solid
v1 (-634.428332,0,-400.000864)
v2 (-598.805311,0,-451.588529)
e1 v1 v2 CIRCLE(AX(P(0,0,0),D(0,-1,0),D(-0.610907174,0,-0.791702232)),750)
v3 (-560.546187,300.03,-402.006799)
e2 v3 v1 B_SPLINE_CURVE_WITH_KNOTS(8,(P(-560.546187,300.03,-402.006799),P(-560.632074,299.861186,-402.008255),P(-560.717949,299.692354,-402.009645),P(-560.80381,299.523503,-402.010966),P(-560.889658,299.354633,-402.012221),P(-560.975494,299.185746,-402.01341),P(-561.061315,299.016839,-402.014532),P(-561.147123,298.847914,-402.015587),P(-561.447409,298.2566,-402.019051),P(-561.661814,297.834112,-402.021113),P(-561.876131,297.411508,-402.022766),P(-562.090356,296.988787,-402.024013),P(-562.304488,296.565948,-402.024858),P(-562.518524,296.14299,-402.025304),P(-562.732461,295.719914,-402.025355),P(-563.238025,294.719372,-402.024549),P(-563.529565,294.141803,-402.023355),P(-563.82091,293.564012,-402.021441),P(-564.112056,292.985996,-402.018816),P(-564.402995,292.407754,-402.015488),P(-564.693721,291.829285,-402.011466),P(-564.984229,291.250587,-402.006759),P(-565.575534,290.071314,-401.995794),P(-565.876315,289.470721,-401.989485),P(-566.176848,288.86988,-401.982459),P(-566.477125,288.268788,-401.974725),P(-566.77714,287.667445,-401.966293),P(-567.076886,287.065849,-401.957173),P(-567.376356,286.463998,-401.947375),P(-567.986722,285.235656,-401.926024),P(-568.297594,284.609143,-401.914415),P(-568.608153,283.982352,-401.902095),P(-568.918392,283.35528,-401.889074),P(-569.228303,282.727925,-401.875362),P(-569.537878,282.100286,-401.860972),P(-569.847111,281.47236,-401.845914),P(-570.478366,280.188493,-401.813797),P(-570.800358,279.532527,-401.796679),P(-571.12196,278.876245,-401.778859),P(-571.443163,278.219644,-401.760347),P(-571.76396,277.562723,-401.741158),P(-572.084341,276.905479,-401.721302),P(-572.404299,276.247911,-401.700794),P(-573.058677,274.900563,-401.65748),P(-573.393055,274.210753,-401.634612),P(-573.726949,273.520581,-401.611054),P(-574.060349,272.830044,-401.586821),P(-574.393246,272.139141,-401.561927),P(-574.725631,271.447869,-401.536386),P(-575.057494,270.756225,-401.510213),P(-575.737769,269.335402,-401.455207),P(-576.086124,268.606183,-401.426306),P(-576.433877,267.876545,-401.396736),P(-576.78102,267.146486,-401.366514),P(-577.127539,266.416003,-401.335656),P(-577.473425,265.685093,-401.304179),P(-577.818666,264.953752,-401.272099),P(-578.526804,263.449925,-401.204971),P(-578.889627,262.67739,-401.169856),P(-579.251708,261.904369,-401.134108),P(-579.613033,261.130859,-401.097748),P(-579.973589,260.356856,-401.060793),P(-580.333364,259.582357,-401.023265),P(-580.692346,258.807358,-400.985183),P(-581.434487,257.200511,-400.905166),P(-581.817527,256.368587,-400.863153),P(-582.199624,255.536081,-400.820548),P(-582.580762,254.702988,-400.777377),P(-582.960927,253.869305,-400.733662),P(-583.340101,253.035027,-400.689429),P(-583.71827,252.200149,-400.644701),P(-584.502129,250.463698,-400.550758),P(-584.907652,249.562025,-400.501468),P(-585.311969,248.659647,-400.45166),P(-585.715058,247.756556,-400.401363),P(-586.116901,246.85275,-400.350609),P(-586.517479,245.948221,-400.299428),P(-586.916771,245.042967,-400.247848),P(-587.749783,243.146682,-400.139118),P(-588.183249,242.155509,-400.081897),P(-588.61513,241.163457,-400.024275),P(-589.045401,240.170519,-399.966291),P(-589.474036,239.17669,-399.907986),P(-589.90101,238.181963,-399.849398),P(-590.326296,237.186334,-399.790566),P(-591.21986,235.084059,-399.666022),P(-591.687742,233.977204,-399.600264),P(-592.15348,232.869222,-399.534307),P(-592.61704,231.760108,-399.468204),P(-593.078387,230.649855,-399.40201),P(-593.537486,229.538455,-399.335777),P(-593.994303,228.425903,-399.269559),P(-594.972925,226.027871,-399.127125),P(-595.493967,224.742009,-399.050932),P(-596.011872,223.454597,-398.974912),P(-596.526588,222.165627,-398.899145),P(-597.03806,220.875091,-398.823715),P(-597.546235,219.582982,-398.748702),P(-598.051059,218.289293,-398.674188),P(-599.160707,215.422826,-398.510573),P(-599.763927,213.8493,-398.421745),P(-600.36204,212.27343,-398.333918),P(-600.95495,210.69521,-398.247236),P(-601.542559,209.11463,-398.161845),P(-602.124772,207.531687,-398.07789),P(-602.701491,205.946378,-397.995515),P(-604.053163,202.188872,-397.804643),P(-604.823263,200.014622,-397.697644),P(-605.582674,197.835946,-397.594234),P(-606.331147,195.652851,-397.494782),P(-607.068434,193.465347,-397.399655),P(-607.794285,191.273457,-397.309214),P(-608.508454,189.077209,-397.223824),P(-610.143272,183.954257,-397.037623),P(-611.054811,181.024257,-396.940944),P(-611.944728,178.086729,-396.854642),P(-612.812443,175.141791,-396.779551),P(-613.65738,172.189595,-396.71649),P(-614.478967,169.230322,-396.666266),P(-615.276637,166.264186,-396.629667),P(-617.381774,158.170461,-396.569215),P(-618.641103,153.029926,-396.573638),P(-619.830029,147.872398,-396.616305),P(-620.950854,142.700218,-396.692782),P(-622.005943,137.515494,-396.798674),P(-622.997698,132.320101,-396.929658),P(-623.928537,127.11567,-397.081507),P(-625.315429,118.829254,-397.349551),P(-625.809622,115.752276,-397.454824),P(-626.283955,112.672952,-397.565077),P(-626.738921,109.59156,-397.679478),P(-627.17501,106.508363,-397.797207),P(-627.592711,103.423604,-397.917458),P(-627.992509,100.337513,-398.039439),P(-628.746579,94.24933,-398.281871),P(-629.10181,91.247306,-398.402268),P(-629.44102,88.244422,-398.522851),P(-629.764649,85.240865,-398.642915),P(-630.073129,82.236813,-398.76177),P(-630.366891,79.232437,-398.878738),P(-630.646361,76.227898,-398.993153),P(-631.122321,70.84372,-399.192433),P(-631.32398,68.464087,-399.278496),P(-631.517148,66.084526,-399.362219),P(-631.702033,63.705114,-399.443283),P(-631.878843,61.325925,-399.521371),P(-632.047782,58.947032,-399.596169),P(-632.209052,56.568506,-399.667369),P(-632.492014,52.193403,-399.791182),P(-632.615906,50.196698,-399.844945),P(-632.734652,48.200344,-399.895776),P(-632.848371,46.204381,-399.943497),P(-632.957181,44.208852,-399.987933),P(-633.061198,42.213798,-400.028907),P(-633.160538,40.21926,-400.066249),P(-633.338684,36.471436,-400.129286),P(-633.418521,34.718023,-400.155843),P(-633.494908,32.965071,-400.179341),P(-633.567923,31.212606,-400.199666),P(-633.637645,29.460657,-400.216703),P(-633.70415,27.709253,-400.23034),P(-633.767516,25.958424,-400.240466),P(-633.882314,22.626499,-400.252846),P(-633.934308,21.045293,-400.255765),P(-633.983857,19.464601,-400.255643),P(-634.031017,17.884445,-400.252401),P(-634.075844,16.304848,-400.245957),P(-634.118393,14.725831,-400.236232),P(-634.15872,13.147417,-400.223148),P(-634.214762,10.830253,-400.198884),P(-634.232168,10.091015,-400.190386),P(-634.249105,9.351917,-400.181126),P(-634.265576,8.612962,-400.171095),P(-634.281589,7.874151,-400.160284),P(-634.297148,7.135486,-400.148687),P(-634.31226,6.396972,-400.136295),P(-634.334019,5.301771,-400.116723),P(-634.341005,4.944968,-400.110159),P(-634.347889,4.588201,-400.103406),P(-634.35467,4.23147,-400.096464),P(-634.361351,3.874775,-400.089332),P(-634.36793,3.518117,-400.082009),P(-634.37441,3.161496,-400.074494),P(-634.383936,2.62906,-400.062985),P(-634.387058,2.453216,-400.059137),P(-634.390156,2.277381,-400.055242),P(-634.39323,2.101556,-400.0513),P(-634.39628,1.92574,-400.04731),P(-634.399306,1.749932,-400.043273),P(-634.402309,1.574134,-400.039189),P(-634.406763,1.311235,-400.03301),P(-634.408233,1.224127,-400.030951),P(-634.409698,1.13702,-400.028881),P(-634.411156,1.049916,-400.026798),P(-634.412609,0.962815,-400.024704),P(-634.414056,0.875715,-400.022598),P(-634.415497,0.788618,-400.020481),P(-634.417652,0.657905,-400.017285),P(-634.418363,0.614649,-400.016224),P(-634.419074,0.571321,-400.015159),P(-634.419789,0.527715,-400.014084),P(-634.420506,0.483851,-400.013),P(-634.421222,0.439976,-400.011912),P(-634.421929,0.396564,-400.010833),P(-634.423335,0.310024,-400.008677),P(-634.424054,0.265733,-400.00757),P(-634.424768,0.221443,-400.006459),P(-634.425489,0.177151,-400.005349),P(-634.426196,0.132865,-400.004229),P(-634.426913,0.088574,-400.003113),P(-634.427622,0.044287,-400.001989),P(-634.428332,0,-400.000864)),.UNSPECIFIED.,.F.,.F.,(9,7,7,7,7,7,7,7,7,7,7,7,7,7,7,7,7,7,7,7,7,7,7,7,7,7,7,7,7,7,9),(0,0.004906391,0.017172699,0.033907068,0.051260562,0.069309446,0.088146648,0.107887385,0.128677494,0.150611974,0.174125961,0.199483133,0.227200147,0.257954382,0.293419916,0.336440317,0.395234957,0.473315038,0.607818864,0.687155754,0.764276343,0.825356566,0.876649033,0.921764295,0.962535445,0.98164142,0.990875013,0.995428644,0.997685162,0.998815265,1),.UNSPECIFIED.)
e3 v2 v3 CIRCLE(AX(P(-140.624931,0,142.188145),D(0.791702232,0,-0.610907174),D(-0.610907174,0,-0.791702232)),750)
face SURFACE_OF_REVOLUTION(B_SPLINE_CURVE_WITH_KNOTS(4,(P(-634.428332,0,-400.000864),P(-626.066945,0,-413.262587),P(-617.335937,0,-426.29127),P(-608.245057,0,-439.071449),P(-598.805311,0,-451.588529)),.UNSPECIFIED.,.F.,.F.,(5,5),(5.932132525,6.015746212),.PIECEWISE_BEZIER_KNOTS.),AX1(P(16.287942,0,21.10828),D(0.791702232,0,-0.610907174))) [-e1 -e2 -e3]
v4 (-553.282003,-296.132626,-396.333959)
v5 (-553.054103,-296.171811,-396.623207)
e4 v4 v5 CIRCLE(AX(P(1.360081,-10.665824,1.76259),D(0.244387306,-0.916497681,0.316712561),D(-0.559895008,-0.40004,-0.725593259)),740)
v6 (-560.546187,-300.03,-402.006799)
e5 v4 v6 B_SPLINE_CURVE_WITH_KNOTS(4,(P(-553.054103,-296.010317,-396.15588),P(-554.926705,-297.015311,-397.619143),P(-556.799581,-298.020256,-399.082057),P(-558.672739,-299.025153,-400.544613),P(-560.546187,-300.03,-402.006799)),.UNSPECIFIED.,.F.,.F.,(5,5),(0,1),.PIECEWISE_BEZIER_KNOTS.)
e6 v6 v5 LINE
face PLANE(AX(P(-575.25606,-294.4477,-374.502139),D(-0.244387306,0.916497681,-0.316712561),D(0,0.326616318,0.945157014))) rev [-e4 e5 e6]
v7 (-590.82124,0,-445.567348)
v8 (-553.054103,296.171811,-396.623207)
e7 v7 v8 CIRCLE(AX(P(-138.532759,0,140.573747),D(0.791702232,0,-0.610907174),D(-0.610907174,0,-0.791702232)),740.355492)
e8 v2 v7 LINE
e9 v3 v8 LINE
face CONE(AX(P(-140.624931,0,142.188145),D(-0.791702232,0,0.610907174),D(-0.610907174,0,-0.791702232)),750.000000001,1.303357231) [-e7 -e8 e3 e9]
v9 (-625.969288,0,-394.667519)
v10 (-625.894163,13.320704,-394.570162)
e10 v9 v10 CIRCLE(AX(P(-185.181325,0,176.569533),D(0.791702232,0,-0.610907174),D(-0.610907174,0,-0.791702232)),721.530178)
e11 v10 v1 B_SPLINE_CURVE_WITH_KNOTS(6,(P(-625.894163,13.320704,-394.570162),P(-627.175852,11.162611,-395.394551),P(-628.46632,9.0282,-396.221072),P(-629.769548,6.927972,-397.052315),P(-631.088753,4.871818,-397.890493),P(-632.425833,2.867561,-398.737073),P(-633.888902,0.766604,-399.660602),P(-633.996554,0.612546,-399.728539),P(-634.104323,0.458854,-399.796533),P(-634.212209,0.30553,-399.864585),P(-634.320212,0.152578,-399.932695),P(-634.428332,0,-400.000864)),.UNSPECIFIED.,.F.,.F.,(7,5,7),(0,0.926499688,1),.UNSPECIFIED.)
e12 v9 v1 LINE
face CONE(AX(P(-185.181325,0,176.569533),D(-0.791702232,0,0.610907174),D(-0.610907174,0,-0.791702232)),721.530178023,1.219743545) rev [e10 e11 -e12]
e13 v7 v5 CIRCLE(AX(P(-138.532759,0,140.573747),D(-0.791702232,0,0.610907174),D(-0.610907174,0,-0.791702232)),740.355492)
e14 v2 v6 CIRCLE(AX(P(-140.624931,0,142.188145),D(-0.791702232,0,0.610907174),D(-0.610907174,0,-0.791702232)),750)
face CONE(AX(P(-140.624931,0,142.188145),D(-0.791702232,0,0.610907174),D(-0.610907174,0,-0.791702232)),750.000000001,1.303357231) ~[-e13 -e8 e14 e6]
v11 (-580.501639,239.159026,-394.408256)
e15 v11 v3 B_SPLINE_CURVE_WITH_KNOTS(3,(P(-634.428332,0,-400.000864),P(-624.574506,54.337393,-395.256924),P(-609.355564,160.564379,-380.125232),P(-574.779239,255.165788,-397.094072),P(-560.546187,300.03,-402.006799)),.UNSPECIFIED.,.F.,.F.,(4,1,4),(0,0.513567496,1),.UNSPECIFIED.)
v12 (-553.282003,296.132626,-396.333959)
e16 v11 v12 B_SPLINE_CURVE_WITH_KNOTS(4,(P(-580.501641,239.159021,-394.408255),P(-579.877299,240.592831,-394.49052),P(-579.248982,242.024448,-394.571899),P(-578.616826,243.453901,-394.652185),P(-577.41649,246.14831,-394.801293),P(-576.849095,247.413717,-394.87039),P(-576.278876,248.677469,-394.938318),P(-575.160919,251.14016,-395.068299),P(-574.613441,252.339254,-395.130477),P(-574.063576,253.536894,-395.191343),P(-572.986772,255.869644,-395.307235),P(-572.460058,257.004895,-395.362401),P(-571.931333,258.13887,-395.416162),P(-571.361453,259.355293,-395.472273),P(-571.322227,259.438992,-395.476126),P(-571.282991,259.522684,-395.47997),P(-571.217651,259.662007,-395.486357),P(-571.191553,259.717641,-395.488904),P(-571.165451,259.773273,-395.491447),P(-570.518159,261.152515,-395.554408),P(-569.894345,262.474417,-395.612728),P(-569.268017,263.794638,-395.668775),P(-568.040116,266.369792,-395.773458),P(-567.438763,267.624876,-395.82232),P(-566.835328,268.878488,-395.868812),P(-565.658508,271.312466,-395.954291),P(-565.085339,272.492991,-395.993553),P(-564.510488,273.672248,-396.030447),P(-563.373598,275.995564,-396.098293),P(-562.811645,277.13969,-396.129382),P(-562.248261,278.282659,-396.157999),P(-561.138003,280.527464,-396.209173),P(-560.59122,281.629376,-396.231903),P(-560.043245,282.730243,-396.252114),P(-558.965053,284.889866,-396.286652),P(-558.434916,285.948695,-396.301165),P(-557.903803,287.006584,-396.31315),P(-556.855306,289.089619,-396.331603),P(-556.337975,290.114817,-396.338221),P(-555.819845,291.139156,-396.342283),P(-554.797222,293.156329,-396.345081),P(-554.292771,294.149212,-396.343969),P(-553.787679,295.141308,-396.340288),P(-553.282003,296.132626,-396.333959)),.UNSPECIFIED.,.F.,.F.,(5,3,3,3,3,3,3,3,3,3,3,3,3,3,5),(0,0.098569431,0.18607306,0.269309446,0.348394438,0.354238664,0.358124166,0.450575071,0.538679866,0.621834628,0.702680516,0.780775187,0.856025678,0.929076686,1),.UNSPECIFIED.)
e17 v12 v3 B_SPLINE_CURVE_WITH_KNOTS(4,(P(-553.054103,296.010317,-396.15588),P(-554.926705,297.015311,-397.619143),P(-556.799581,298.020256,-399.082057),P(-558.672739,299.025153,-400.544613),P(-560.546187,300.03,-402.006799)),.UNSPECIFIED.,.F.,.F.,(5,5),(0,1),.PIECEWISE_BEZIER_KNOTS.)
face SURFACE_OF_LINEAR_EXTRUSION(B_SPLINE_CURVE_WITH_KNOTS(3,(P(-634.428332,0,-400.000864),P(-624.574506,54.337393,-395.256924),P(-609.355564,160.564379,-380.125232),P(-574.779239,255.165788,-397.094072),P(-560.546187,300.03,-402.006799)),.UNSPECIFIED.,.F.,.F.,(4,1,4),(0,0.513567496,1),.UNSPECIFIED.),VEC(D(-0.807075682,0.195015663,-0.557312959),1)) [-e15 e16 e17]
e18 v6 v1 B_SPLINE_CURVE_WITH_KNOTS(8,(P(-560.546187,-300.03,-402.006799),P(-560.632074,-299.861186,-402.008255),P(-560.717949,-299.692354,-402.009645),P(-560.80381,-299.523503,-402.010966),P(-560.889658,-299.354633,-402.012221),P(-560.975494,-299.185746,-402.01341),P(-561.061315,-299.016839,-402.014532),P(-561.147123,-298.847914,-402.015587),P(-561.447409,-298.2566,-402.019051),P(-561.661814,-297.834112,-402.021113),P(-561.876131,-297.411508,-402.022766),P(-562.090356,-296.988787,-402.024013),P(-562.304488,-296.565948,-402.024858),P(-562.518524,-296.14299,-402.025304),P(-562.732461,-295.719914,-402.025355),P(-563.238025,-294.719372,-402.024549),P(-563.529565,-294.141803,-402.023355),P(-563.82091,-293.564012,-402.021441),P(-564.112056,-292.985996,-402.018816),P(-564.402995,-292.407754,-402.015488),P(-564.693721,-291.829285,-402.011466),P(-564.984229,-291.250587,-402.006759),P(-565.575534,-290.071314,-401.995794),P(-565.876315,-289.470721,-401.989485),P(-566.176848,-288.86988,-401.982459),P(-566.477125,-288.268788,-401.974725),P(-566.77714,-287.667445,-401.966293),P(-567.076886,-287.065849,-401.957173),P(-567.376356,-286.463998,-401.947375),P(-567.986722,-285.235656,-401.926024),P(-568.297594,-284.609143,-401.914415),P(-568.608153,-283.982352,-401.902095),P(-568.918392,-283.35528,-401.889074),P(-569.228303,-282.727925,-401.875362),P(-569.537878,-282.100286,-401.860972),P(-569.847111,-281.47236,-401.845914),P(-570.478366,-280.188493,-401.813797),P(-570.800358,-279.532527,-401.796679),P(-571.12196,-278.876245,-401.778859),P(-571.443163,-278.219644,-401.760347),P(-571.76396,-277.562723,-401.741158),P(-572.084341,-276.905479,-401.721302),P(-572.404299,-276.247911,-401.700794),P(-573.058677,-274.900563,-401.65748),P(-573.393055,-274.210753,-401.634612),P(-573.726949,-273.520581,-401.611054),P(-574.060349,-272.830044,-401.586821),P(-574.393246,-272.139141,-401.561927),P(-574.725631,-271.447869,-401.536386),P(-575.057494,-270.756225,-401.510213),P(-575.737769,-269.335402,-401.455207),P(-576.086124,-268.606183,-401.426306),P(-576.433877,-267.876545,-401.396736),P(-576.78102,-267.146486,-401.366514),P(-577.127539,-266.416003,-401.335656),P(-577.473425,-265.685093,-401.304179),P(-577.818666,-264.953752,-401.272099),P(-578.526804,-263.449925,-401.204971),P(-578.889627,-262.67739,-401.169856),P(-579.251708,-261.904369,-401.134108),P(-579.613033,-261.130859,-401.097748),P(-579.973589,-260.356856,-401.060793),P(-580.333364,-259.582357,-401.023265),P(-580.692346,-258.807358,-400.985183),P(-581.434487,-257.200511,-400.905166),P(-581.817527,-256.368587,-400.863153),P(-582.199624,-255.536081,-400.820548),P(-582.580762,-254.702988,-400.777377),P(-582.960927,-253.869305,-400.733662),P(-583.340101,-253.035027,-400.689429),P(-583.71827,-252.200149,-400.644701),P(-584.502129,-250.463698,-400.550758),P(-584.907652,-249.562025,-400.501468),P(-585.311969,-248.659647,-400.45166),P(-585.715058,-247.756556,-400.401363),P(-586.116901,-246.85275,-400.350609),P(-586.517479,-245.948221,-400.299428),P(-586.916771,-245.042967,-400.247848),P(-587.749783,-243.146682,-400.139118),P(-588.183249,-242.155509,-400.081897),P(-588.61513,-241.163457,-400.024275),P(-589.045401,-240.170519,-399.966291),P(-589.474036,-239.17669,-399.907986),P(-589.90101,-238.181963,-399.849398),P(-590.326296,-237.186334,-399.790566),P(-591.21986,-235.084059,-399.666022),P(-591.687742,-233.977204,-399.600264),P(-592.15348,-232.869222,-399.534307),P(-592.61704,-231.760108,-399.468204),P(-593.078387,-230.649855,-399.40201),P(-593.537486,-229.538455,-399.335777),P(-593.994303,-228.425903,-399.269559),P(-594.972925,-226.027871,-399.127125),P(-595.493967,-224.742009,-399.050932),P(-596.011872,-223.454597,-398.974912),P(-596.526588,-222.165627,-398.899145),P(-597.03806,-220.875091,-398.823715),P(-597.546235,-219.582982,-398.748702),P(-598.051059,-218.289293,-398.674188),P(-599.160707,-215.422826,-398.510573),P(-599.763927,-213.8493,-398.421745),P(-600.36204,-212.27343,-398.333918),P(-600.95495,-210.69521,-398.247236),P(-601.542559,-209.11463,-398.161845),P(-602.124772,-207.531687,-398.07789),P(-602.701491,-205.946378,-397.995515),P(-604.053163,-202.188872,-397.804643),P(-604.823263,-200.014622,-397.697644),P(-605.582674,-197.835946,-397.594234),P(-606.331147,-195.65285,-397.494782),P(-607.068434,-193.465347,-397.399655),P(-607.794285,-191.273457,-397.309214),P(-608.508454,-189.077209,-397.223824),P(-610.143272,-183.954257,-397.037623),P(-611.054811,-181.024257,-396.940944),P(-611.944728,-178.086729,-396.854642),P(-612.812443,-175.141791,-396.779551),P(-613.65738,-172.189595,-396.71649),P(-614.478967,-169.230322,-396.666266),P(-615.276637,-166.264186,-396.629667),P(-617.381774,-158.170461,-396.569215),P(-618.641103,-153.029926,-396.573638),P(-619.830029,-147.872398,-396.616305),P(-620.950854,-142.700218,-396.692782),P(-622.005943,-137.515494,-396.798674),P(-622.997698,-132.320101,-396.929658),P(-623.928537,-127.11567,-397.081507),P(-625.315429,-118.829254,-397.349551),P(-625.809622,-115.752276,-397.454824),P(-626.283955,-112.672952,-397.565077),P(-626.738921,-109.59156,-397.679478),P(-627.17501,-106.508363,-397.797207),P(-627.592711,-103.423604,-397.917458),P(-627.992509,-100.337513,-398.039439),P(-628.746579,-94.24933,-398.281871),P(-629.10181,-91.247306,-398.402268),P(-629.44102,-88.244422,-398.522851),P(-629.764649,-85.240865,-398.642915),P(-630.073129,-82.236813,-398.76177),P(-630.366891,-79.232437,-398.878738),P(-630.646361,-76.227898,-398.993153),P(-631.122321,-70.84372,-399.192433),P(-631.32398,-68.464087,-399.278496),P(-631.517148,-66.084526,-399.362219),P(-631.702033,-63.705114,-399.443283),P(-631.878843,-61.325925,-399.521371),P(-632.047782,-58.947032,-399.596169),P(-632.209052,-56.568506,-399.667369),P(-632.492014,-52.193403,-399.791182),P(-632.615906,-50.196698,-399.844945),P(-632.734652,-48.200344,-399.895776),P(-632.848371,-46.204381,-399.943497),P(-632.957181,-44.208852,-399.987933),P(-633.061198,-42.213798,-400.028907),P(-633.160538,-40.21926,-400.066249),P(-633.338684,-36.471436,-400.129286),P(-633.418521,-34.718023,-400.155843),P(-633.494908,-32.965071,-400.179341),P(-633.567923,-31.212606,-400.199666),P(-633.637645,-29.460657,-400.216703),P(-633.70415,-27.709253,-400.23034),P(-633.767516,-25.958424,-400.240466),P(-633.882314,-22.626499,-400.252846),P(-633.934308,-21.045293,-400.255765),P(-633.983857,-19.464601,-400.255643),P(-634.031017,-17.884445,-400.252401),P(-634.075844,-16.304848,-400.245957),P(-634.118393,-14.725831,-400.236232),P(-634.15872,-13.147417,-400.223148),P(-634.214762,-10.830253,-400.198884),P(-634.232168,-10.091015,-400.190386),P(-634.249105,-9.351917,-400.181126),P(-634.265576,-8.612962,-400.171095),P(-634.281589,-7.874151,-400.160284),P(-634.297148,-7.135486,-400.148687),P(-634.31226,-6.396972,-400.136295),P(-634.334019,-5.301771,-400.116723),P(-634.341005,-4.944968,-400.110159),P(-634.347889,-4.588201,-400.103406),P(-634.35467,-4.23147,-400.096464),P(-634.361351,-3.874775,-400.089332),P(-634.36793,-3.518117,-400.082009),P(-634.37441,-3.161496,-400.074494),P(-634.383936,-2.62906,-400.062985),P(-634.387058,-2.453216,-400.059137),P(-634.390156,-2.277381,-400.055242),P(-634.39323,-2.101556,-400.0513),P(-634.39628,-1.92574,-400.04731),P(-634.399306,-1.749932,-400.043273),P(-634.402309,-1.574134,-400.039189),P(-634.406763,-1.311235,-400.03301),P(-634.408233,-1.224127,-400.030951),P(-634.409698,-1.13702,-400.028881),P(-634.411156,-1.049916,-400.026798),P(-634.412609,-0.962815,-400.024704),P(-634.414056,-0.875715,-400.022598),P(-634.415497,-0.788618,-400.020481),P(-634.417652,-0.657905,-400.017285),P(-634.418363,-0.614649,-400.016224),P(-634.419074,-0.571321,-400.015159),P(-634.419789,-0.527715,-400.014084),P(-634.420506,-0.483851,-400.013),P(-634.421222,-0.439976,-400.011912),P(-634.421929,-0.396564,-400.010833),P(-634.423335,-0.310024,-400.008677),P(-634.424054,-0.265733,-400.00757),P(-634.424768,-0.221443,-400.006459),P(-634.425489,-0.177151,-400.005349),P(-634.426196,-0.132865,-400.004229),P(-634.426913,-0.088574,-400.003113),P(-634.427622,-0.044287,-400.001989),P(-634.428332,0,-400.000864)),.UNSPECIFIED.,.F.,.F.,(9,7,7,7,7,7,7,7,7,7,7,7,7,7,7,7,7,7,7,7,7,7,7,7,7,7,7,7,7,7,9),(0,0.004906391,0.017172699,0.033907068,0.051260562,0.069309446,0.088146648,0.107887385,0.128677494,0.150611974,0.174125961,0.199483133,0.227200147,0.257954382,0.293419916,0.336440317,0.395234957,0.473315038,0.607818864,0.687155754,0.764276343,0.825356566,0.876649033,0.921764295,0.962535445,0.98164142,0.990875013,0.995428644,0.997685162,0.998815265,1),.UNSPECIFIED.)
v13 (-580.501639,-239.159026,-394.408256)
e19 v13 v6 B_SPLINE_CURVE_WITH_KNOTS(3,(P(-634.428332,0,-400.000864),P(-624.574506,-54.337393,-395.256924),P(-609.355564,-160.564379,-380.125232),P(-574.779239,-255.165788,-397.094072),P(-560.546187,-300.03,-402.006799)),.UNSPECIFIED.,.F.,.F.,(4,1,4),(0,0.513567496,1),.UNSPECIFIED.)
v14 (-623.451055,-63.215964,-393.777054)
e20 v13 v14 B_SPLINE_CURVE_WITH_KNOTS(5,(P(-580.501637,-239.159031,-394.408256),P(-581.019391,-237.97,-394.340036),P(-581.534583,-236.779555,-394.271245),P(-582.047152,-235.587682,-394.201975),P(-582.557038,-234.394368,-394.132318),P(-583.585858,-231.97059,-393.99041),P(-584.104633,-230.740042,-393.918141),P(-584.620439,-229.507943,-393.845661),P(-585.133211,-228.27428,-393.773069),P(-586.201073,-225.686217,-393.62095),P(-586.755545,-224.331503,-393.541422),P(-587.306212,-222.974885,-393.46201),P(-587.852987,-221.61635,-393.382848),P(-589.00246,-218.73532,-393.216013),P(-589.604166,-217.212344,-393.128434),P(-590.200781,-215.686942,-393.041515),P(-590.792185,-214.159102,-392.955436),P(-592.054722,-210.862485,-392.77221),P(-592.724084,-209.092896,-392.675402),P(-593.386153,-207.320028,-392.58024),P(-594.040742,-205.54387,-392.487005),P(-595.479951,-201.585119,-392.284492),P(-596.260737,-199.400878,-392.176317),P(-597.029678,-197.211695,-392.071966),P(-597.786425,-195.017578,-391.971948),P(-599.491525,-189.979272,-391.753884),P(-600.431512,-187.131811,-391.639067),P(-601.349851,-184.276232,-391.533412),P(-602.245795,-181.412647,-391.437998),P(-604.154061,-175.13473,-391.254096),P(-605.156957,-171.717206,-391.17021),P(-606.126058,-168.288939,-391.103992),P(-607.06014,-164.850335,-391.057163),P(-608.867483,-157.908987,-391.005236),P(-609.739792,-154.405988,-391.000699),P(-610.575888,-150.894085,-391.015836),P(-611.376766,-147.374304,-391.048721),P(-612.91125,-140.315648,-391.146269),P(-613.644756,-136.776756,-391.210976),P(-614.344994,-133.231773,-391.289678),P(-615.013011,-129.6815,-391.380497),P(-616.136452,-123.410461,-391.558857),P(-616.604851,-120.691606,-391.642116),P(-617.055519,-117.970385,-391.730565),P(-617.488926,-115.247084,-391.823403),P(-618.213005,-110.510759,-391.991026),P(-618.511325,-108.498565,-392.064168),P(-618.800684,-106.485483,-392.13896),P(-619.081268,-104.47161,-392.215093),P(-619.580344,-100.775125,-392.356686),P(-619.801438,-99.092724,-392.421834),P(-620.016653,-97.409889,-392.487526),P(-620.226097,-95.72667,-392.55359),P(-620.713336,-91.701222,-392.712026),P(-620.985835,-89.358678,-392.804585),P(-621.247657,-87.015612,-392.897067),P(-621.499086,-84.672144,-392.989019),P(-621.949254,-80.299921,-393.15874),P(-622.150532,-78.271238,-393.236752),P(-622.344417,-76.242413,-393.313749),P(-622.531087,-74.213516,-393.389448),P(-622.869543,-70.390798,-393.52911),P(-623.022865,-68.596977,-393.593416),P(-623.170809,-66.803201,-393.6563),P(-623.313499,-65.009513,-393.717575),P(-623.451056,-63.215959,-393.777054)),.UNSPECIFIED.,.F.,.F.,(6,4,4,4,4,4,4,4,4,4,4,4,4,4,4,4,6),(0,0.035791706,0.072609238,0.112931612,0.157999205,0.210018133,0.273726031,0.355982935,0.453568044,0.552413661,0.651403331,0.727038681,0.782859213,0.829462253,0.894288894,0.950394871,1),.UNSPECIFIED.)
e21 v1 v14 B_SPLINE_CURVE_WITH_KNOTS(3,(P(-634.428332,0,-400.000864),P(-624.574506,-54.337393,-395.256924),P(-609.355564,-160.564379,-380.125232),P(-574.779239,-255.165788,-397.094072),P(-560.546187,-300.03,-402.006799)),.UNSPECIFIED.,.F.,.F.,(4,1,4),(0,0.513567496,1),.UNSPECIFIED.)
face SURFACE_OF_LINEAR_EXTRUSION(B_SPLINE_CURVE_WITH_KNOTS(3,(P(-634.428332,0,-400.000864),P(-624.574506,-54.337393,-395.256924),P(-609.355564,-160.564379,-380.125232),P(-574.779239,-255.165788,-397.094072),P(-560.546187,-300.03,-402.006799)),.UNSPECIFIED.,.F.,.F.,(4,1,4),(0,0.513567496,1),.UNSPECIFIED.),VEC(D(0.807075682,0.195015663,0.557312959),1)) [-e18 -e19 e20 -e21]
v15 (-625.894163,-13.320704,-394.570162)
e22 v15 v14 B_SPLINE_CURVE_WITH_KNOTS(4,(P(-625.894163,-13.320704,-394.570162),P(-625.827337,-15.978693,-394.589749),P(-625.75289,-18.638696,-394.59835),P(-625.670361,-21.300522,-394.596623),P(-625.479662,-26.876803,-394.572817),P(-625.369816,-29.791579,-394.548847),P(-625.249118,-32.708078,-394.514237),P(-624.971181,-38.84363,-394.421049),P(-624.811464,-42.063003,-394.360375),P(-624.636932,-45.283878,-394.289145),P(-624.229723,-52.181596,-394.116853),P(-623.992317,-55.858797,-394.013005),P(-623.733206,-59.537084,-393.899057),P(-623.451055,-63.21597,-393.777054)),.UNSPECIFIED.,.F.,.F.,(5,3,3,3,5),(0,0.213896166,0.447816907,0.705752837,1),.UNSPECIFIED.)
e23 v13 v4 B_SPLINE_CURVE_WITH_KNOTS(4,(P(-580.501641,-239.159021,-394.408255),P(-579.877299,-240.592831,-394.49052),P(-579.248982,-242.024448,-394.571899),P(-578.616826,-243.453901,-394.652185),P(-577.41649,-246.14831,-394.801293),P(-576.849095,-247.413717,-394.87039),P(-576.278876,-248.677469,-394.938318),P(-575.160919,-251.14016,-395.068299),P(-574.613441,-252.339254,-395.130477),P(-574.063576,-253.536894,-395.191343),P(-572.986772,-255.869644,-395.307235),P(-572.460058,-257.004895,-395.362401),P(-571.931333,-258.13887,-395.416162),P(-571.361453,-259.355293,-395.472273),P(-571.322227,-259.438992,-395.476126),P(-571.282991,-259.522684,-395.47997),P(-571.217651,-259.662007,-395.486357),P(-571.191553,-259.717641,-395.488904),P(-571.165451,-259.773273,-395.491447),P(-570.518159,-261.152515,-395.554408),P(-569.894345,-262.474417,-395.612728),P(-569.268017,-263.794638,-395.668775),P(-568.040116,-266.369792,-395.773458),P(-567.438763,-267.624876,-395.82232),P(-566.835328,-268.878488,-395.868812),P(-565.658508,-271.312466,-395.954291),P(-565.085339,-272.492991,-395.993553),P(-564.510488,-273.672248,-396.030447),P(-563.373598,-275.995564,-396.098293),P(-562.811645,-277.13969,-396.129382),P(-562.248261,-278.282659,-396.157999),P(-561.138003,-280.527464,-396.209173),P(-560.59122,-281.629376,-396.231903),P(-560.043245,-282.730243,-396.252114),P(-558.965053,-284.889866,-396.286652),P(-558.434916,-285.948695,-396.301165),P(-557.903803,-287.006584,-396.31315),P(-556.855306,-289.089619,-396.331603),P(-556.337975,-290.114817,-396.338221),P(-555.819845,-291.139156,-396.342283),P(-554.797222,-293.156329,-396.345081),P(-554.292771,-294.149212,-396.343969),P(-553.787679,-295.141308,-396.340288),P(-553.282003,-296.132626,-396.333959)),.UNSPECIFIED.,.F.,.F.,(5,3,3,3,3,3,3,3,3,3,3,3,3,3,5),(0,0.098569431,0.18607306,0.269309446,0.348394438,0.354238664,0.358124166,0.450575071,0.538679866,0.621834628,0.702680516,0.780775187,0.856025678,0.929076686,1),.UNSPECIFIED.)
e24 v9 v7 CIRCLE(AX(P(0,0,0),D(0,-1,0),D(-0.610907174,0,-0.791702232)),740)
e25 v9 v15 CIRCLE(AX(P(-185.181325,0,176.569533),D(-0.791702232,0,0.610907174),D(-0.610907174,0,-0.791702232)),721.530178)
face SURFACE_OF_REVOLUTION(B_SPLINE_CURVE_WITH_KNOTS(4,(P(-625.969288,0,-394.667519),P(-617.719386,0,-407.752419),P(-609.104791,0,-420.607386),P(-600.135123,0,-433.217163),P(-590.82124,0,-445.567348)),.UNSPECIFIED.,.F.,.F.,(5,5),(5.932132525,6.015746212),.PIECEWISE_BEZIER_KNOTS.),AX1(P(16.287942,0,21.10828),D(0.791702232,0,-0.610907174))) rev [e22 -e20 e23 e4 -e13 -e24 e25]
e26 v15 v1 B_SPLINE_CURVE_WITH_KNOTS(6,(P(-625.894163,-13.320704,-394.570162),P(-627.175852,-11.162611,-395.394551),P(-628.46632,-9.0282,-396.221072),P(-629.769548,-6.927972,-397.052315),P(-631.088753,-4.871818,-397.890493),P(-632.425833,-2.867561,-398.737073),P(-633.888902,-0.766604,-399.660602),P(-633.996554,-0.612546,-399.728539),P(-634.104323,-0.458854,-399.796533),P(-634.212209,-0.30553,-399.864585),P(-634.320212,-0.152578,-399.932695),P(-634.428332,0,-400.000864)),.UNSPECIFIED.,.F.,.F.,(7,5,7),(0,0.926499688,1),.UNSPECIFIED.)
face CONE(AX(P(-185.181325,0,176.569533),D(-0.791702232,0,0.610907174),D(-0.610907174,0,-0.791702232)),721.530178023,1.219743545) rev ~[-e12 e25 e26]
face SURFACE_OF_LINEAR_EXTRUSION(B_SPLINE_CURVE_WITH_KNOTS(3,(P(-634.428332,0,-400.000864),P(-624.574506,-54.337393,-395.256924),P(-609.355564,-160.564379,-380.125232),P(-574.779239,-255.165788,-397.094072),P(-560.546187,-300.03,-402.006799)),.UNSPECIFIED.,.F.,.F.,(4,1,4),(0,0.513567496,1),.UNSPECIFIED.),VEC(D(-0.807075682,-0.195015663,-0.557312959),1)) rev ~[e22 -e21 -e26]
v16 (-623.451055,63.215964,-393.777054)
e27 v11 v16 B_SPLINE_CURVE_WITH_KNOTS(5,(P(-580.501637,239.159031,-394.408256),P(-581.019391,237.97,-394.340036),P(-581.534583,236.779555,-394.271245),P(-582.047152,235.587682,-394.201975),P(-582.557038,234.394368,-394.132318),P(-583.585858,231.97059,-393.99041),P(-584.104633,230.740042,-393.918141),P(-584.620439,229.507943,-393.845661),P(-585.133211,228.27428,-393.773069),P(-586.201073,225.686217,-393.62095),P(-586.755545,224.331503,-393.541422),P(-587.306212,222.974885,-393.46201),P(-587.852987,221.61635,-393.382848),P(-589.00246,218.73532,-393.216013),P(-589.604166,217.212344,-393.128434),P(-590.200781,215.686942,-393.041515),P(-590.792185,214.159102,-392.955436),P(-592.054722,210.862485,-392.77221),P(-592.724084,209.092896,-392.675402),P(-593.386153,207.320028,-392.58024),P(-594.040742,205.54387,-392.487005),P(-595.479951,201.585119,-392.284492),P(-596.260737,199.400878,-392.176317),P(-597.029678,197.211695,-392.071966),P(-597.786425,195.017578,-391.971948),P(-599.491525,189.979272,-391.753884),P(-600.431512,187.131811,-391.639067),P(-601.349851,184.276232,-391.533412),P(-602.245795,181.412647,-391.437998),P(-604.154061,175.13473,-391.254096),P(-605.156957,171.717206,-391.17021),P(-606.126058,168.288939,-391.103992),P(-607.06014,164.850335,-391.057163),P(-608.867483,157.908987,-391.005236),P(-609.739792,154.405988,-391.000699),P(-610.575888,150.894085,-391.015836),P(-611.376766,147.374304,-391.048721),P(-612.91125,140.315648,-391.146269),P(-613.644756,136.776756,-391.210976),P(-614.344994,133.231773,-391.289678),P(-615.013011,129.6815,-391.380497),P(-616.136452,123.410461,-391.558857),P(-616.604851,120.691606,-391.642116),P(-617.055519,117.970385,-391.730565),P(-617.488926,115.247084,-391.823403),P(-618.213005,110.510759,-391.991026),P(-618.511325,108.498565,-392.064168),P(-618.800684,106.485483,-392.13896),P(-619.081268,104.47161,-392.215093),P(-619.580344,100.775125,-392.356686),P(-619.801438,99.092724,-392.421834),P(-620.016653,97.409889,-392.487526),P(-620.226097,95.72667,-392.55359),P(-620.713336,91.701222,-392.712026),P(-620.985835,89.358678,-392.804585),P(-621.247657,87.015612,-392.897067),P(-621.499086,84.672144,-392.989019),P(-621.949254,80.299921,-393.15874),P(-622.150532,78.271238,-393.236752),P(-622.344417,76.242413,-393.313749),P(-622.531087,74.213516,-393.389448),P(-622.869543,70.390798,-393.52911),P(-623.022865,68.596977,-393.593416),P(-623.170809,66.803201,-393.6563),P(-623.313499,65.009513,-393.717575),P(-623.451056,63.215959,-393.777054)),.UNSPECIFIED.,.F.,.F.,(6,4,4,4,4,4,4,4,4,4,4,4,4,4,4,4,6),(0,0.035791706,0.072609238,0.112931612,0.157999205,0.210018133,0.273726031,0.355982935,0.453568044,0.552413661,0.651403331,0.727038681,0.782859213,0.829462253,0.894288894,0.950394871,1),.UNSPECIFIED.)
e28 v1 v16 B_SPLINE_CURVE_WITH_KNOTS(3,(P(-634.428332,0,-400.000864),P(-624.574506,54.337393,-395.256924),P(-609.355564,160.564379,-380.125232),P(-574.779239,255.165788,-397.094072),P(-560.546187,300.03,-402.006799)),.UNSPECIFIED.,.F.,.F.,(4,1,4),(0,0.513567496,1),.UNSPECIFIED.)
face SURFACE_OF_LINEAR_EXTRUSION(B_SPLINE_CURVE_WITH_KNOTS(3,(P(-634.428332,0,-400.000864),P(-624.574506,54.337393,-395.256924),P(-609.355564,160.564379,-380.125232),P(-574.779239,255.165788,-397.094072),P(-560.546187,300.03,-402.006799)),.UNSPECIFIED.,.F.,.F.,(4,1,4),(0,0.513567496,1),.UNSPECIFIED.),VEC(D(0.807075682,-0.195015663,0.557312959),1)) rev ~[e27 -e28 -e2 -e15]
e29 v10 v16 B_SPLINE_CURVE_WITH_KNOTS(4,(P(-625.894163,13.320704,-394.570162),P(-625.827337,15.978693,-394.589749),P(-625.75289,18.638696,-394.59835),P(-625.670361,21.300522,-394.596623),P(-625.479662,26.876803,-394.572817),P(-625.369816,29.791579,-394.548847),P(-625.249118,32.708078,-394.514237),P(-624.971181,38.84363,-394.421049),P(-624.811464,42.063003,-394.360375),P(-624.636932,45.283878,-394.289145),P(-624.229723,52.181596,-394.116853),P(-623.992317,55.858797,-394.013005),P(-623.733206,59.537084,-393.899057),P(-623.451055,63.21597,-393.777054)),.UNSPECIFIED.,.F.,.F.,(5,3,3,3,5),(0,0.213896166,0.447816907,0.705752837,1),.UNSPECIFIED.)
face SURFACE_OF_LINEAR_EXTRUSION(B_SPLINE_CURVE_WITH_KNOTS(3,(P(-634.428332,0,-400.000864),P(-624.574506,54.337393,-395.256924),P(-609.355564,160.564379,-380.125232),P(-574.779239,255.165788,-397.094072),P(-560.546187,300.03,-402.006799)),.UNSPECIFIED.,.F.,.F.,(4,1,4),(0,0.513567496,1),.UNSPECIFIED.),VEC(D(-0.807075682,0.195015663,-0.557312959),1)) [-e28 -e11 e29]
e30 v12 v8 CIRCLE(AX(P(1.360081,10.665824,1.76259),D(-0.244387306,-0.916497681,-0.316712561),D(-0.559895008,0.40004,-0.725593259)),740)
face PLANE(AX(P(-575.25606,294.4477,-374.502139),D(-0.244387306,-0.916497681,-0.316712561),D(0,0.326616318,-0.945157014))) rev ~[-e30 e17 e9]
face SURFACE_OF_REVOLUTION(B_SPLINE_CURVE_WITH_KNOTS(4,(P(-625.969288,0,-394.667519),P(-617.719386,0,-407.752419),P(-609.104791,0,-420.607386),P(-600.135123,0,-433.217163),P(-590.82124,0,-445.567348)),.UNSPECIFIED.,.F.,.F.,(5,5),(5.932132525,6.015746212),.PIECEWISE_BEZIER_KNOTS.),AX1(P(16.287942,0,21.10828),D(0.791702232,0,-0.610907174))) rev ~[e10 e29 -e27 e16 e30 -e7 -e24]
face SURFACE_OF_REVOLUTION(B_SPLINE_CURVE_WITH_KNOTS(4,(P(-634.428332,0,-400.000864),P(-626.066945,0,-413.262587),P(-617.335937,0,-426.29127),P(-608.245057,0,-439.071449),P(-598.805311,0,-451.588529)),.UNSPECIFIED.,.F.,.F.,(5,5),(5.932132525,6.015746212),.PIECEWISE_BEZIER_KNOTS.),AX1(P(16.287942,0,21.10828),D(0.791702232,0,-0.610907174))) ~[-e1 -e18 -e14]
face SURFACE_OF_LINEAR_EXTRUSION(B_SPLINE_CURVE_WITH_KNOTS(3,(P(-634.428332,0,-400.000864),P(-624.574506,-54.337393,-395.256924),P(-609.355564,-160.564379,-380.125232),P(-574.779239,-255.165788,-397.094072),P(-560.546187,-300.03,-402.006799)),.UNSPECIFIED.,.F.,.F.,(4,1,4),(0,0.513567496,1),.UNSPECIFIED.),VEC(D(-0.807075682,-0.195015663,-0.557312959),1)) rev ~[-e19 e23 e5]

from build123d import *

# Parameters (mm, degrees)
F6_DEPTH = 19


with BuildPart() as f5:
    # F5: sweep along a path in F2
    with BuildLine(Plane(origin=(-156.9128723683, 0, 121.0798651188), x_dir=(0, 1, 0), z_dir=(0.7917022321, 0, -0.6109071744))) as f5_path:
        ThreePointArc((0, -723.3381067993), (153.2482539983, -707.5144974892), (300.03, -660.7113671899))
    # F0 (on Front) → F5 (sweep)
    with BuildSketch(Plane.XZ):
        with BuildLine():
            Line((-625.9692876951, -394.6675193912), (-634.4283321235, -400.0008642479))
            ThreePointArc((-634.4283321235, -400.0008642479), (-617.1560796043, -426.1670721764), (-598.805311294, -451.5885286033))
            Line((-598.805311294, -451.5885286033), (-590.8212404767, -445.567348222))
            ThreePointArc((-590.8212404767, -445.567348222), (-608.9273318763, -420.4848445474), (-625.9692876951, -394.6675193912))
        make_face()
    sweep(path=f5_path.line)

    # F4 (on 3pt) → F6 (cut, symmetric)
    with BuildSketch(Plane(origin=(-593.1662002197, 143.328193903, -409.6012519616), x_dir=(-0.1604734695, -0.980800128, -0.1108123389), z_dir=(-0.8070756825, 0.1950156632, -0.5573129586))):
        with BuildLine():
            add(Edge.make_bspline(
                [(146.1339469779, 31.3459994524), (90.7328605324, 29.650500126), (-17.5735954351, 33.4542379482), (-114.0268957899, -0.1560465685), (-159.7693573046, -12.2861504718)],
                knots=[0, 0, 0, 0, 0.5135674958, 1, 1, 1, 1], degree=3))
            Line((146.1339469779, 31.3459994524), (148.5447883606, 94.4522917271))
            Line((148.5447883606, 94.4522917271), (-149.4097858667, 94.4522917271))
            Line((-149.4097858667, 94.4522917271), (-190.5195564032, 25.3297034651))
            Line((-190.5195564032, 25.3297034651), (-159.7693573046, -12.2861504718))
        make_face()
    extrude(amount=F6_DEPTH, both=True, mode=Mode.SUBTRACT)

    # F7: F5 across face


with BuildPart() as f5_1:
    add(f5.part)
    add(f5.part.mirror(Plane(origin=(-612.8723427908, 0, -423.2090075375), x_dir=(1, 0, 0), z_dir=(0, -1, 0))))


solid = f5_1.part
